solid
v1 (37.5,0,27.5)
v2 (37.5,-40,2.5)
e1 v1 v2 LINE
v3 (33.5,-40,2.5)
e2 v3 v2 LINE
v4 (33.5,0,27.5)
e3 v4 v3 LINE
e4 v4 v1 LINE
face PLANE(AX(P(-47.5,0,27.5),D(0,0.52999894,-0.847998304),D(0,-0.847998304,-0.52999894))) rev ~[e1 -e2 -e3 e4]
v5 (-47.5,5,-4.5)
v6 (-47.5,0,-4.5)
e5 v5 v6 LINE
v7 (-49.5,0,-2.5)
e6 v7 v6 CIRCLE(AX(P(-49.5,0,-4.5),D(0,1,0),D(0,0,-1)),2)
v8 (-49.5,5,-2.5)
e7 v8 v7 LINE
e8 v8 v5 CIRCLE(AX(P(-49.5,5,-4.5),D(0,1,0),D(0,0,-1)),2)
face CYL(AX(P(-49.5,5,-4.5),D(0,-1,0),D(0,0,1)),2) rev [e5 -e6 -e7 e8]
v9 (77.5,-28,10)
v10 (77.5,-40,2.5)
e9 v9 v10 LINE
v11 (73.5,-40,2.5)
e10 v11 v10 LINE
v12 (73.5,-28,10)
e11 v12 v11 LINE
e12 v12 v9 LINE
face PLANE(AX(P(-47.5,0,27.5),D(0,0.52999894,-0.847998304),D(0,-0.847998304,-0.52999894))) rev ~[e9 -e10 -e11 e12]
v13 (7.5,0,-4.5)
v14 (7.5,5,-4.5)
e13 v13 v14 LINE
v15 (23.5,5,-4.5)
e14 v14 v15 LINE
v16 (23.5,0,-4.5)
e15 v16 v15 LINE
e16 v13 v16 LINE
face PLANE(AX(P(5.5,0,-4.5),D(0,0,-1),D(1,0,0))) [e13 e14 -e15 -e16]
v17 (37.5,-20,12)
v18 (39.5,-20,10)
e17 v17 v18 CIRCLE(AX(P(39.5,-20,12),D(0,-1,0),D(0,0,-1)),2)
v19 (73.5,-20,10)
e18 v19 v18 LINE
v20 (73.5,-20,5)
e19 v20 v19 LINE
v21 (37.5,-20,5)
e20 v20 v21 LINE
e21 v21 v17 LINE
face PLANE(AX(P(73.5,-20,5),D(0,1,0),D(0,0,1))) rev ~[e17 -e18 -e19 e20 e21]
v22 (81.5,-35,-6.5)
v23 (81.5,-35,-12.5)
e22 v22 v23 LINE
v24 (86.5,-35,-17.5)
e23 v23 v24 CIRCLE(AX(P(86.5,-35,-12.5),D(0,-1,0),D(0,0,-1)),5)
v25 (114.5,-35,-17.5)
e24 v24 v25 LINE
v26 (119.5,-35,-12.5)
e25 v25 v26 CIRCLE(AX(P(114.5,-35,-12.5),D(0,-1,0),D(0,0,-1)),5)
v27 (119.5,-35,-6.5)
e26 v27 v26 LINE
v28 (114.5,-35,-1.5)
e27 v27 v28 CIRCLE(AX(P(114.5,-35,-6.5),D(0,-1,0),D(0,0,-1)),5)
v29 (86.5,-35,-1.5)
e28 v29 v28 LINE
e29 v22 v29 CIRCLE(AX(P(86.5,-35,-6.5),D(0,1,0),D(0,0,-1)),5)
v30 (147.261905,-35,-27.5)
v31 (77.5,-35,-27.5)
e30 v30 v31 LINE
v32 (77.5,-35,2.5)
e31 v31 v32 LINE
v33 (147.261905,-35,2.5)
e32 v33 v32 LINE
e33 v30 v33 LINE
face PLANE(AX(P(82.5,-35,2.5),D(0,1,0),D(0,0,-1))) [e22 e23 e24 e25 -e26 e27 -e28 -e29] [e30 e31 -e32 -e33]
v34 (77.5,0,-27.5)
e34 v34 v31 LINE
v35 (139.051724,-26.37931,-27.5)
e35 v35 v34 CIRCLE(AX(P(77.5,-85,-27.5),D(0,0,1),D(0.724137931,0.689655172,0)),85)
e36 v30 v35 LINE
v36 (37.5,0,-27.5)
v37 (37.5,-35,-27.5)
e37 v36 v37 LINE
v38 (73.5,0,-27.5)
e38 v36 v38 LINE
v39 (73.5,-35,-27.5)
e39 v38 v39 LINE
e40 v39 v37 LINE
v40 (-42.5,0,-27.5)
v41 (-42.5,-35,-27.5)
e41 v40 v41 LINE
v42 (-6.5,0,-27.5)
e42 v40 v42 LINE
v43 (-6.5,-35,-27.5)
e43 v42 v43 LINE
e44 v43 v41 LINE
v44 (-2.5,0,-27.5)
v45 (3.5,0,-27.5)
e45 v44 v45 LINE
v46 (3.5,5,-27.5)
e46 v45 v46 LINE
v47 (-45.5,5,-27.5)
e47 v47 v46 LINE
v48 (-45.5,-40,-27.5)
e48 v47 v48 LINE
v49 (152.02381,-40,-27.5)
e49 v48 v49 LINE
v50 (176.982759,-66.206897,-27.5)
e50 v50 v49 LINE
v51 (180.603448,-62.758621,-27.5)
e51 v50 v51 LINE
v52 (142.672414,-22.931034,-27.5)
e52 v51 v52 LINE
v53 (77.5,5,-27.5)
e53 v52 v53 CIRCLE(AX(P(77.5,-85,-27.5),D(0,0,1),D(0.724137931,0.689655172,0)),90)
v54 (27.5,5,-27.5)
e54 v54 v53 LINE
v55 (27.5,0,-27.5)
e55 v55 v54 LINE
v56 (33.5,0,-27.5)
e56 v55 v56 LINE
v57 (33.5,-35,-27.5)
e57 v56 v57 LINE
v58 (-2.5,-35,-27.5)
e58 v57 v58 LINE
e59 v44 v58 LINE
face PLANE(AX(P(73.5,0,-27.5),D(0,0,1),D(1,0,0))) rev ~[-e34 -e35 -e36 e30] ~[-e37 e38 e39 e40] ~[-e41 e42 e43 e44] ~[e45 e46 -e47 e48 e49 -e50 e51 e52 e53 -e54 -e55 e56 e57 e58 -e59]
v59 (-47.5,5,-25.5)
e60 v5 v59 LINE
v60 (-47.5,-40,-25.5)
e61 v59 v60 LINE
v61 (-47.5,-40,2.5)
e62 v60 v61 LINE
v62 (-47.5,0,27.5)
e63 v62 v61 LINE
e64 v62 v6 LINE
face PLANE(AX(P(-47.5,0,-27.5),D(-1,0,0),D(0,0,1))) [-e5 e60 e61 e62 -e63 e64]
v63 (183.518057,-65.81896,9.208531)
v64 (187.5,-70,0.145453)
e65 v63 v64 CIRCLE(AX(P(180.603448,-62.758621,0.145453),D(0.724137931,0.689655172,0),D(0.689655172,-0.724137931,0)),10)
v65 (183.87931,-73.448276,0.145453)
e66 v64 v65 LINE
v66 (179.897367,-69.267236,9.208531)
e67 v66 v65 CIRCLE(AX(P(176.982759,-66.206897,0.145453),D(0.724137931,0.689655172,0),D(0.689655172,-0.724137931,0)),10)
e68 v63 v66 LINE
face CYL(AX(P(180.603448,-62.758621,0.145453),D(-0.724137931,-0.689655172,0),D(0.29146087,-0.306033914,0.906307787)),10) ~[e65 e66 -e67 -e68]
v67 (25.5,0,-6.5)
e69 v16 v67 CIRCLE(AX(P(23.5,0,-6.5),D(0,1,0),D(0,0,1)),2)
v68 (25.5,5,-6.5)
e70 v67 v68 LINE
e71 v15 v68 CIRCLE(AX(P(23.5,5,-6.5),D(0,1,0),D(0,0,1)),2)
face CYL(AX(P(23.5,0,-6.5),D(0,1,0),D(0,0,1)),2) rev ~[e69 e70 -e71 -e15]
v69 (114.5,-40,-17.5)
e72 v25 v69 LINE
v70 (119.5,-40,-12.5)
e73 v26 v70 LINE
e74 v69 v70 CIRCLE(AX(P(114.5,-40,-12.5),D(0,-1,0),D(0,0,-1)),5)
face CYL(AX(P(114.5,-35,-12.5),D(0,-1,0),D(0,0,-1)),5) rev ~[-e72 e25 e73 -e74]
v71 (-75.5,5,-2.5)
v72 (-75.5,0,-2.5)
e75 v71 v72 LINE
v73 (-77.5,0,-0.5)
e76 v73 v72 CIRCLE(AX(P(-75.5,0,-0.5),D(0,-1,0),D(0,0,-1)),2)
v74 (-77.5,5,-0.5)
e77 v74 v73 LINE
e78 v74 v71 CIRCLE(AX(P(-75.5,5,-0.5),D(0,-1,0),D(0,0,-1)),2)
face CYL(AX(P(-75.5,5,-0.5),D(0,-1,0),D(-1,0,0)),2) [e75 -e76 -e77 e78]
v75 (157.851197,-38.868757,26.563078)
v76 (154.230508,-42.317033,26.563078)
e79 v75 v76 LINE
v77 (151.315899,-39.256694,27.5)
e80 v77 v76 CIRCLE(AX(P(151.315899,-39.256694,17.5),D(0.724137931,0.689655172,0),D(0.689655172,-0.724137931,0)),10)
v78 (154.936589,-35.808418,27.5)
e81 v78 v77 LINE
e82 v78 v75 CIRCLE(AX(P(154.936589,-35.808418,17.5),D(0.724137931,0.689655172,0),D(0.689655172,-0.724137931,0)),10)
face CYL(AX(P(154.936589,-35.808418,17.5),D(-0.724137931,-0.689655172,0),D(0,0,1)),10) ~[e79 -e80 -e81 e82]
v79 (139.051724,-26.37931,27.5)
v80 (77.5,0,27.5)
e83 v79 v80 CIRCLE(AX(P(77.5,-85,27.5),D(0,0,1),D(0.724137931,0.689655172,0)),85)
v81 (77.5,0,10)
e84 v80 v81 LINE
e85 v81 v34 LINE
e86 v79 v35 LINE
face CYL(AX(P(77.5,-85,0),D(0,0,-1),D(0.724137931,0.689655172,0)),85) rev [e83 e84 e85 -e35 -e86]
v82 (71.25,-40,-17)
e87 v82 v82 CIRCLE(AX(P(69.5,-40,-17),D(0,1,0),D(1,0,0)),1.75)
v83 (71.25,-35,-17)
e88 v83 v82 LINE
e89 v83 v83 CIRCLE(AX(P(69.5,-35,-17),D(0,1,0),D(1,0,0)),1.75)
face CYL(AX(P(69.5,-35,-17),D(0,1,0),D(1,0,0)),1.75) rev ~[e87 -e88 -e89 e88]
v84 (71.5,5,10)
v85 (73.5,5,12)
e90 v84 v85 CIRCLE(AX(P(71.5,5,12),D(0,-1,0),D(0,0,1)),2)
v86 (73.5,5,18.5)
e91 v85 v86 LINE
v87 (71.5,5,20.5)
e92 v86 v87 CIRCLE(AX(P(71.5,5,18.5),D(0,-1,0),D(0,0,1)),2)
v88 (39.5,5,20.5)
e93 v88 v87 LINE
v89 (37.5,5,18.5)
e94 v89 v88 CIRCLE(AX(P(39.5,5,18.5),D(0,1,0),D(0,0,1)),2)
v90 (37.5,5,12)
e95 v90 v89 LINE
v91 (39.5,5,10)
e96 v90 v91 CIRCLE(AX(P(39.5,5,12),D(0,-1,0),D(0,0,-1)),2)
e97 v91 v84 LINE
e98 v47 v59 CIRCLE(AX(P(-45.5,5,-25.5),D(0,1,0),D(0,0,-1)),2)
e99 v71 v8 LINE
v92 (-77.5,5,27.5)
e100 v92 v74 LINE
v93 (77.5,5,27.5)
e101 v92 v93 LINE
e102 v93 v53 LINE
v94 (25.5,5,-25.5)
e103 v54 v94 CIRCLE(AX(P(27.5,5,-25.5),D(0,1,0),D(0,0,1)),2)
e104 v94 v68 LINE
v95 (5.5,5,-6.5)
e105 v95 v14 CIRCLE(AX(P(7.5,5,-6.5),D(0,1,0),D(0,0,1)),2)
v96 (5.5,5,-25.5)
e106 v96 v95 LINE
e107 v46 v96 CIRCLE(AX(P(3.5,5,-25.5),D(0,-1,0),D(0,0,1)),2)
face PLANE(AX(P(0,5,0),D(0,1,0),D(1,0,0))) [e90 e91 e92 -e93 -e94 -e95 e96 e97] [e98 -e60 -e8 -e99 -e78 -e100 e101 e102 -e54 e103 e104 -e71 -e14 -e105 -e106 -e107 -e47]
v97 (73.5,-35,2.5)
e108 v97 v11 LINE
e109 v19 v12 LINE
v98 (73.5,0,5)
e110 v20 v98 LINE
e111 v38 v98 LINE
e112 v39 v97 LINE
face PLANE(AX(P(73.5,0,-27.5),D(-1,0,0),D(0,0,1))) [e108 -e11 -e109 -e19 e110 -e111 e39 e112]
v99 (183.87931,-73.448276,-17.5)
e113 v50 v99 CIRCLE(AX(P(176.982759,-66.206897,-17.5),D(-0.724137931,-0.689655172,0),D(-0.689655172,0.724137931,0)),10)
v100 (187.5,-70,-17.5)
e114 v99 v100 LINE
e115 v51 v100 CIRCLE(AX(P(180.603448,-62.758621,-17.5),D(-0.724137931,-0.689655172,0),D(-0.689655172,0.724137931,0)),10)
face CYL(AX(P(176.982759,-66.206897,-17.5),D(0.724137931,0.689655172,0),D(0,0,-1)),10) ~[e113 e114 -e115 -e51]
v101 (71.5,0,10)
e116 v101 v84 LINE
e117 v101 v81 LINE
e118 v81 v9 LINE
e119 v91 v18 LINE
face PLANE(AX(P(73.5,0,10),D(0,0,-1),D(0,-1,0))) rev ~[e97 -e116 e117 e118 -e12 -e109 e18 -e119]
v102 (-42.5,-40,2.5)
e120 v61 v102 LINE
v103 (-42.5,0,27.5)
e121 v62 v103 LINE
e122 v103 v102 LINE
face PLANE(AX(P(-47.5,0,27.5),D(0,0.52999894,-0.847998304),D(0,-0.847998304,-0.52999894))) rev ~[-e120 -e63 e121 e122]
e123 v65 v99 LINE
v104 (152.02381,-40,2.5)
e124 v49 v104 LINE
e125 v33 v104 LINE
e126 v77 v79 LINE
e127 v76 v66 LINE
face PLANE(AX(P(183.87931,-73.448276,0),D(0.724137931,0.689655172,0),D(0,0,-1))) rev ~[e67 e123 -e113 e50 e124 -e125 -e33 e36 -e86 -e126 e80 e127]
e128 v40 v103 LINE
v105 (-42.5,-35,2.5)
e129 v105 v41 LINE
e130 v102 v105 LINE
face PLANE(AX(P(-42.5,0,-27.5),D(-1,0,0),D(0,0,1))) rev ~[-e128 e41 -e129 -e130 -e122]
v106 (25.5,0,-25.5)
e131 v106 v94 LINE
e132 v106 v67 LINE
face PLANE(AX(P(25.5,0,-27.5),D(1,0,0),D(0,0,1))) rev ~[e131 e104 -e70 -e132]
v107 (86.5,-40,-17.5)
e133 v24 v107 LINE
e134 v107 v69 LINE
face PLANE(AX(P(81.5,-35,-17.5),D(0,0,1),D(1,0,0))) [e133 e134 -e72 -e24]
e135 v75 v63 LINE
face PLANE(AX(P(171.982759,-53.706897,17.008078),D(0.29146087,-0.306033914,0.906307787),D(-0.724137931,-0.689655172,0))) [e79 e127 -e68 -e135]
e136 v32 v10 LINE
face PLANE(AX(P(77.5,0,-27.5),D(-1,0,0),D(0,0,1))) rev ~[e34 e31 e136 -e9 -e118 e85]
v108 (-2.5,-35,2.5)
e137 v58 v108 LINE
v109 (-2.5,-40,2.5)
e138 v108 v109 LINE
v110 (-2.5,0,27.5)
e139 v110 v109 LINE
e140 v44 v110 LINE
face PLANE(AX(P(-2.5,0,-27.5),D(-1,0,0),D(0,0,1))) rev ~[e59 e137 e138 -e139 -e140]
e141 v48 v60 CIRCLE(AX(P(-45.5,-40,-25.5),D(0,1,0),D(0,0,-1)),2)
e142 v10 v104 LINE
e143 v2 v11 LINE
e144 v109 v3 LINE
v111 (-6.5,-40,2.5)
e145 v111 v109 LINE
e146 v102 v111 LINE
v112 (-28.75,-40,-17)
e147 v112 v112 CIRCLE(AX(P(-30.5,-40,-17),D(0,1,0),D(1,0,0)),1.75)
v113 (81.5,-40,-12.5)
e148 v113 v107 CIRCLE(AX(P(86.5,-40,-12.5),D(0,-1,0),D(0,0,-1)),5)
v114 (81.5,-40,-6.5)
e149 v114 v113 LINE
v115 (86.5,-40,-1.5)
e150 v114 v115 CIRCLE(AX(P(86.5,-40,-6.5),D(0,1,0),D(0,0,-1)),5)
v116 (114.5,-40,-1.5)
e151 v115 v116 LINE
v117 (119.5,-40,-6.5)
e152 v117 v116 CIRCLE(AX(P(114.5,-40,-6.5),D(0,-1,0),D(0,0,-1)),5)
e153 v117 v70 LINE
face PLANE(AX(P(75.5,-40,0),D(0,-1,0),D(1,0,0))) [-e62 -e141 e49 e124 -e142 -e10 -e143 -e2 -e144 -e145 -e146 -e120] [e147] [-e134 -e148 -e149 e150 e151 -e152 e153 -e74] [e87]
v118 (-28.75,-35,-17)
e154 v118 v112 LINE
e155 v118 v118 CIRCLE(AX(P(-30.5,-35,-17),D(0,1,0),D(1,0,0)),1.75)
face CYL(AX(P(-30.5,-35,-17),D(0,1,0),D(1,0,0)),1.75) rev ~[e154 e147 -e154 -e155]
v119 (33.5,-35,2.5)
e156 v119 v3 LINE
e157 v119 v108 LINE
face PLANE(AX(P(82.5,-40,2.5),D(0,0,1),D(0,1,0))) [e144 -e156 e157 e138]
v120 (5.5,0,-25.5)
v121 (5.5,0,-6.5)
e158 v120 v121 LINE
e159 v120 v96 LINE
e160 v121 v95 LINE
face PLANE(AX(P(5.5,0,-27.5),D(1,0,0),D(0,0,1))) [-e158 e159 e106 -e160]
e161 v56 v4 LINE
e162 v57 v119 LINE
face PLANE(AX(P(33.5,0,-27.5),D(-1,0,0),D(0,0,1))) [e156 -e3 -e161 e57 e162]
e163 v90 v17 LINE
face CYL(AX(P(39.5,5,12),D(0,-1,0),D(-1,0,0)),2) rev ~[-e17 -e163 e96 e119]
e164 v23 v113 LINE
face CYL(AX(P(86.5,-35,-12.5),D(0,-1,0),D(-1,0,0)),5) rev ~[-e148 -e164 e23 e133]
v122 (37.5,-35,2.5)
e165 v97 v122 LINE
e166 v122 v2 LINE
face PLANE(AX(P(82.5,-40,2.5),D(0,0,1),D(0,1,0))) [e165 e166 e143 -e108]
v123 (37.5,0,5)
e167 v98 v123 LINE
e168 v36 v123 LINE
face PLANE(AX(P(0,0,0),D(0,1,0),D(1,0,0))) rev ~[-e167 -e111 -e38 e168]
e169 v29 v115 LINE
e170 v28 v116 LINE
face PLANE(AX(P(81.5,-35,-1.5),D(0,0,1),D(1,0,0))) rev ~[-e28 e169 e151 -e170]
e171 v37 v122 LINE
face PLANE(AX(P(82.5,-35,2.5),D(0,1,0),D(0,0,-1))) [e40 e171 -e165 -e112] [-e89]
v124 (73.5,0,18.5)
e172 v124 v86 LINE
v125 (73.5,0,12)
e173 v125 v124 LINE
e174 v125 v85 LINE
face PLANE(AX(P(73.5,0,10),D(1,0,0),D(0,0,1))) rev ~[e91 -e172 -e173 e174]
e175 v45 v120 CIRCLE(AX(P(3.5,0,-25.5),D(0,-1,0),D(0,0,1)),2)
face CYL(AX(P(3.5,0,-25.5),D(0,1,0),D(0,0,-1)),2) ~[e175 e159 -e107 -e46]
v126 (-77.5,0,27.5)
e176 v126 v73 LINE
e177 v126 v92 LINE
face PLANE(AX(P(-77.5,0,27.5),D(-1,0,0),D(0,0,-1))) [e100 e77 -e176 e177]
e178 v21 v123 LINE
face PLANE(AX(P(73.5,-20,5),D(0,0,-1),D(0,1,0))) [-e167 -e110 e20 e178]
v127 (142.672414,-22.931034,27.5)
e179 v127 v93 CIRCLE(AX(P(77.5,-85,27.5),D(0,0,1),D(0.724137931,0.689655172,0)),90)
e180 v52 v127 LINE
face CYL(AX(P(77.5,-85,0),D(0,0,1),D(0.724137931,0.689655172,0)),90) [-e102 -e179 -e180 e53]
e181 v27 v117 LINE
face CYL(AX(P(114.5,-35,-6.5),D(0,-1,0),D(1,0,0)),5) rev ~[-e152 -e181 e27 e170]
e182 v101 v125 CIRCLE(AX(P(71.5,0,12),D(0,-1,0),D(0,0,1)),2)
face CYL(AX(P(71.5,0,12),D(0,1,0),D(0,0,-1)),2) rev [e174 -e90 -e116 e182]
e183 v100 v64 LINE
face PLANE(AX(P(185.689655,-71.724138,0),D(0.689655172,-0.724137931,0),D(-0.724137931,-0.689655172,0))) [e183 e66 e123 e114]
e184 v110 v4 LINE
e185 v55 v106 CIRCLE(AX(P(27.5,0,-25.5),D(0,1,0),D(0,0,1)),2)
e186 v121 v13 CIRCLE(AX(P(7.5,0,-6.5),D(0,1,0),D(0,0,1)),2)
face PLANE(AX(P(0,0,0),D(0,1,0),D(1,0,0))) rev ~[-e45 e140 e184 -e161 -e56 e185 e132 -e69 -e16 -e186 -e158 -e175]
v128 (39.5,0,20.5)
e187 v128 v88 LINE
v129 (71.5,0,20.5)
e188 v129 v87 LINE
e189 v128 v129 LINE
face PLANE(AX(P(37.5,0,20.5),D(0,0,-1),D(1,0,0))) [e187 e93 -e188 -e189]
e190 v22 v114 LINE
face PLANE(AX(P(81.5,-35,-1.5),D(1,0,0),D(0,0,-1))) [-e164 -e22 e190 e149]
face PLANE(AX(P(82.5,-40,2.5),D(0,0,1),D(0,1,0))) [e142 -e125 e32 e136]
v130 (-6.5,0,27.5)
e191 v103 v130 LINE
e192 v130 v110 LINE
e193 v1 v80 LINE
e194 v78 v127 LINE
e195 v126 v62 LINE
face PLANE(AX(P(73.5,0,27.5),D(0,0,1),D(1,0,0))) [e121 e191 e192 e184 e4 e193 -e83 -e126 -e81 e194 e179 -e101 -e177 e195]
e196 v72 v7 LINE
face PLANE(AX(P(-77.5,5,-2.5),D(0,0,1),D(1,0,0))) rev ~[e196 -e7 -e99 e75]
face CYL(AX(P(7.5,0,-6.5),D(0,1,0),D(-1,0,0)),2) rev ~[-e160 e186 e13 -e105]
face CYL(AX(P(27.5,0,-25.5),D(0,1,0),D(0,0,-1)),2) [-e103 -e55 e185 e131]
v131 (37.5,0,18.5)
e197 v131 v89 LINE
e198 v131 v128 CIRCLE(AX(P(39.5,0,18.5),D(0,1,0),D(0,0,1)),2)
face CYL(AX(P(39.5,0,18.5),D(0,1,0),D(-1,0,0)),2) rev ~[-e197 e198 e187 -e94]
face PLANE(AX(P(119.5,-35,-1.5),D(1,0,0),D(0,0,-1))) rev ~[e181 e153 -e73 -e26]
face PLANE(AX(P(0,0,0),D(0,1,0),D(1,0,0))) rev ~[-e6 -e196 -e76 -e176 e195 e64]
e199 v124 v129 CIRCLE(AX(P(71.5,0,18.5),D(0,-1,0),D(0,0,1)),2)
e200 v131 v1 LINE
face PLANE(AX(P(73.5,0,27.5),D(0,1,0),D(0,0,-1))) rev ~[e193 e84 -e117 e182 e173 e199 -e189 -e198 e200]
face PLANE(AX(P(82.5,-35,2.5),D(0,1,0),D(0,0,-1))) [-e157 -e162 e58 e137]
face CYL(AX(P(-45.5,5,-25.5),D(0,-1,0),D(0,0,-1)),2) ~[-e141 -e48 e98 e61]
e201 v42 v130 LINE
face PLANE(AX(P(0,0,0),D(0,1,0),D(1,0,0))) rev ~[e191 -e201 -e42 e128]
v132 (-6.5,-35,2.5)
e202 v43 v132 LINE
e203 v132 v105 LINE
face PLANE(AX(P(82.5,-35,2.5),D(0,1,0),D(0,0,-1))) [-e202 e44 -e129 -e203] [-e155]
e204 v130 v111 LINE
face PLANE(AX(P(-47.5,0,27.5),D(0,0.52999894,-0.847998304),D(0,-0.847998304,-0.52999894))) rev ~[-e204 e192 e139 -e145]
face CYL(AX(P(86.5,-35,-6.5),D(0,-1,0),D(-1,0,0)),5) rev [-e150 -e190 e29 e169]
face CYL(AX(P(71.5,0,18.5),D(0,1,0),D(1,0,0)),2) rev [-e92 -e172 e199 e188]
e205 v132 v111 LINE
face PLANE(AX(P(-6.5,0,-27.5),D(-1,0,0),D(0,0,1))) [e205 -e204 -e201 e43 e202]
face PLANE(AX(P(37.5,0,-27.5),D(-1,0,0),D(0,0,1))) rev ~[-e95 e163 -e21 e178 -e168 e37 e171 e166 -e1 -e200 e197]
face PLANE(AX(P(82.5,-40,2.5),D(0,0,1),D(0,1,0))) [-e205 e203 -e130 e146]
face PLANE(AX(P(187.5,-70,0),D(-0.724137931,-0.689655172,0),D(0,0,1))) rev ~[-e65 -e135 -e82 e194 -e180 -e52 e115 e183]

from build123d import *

# Parameters (mm, degrees)
SKETCH1_W            = 155
SKETCH1_H            = 55
BOSS_EXTRUDE1_DEPTH  = 5
SKETCH2_W            = 30
SKETCH2_H            = 25
CUT_EXTRUDE2_DEPTH   = 5
SKETCH3_W            = 5
SKETCH3_H            = 55
BOSS_EXTRUDE2_DEPTH  = 40
SKETCH10_W           = 55
SKETCH10_H           = 5
SKETCH14_W           = 125
SKETCH14_H           = 30
BOSS_EXTRUDE7_DEPTH  = 5
BOSS_EXTRUDE8_REACH  = 107
SKETCH16_W           = 30
SKETCH16_H           = 5
SKETCH19_W           = 4
SKETCH19_H           = 55
BOSS_EXTRUDE9_DEPTH  = 40
CUT_EXTRUDE4_DEPTH   = 125
SKETCH18_R           = 1.75
CUT_EXTRUDE5_DEPTH   = 5
SKETCH20_W           = 38
SKETCH20_H           = 16
CUT_EXTRUDE6_DEPTH   = 5
FILLET1_R            = 5
SKETCH21_W           = 5
SKETCH21_H           = 20
BOSS_EXTRUDE10_DEPTH = 36
CUT_EXTRUDE7_DEPTH   = 4
SKETCH23_W           = 36
SKETCH23_H           = 10.5
CUT_EXTRUDE8_DEPTH   = 5
FILLET2_R            = 2
SKETCH24_W           = 20
SKETCH24_H           = 23
CUT_EXTRUDE9_DEPTH   = 5
FILLET3_R            = 2
CHAMFER1_SIZE        = 45
CHAMFER1_SIZE2       = 20.983844617
FILLET4_R            = 10
FILLET5_R            = 10


with BuildPart() as part:
    # Sketch1 → Boss-Extrude1 (new body)
    with BuildSketch(Plane(origin=(0, 0, 0), x_dir=(1, 0, 0), z_dir=(0, 1, 0))):
        Rectangle(SKETCH1_W, SKETCH1_H)
    extrude(amount=BOSS_EXTRUDE1_DEPTH)

    # Sketch2 → Cut-Extrude2 (cut)
    with BuildSketch(Plane(origin=(0, 5, 0), x_dir=(1, 0, 0), z_dir=(0, 1, 0))):
        with Locations((-62.5, 15)):
            Rectangle(SKETCH2_W, SKETCH2_H)
    extrude(amount=-CUT_EXTRUDE2_DEPTH, mode=Mode.SUBTRACT)

    # Sketch3 → Boss-Extrude2 (add)
    with BuildSketch(Plane.XZ):
        with Locations((-45, 0)):
            Rectangle(SKETCH3_W, SKETCH3_H)
    extrude(amount=BOSS_EXTRUDE2_DEPTH)

    # Sweep1: sweep along a path in Sketch9
    with BuildLine(Plane.XY.offset(27.5)) as sweep1_path:
        Line((187.5, -70), (142.672413793, -22.931034483))
        ThreePointArc((142.672413793, -22.931034483), (112.952736872, -2.276947298), (77.5, 5))
    # Sketch10 → Sweep1 (sweep)
    with BuildSketch(Plane(origin=(77.5, 0, 0), x_dir=(0, 0, -1), z_dir=(1, 0, 0))):
        with Locations((0, 2.5)):
            Rectangle(SKETCH10_W, SKETCH10_H)
    sweep(path=sweep1_path.line)

    # Sketch14 → Boss-Extrude7 (add)
    with BuildSketch(Plane(origin=(0, -40, 0), x_dir=(1, 0, 0), z_dir=(0, 1, 0))):
        with Locations((20, 12.5)):
            Rectangle(SKETCH14_W, SKETCH14_H)
    extrude(amount=BOSS_EXTRUDE7_DEPTH)

    # Boss-Extrude8: up to this face of the body (flat: up to its plane)
    boss_extrude8_end = Plane(part.part.faces().sort_by_distance((161.465517241, -49.913793103, 0))[0])
    # Sketch16 → Boss-Extrude8 (add, up to the picked face)
    with BuildSketch(Plane(origin=(82.5, 0, 0), x_dir=(0, 0, -1), z_dir=(1, 0, 0)), mode=Mode.PRIVATE) as boss_extrude8_sk1:
        with Locations((12.5, -37.5)):
            Rectangle(SKETCH16_W, SKETCH16_H)
    boss_extrude8_tool1 = split(extrude(boss_extrude8_sk1.sketch, amount=BOSS_EXTRUDE8_REACH, mode=Mode.PRIVATE), bisect_by=boss_extrude8_end, keep=Keep.BOTH, mode=Mode.PRIVATE)
    add(boss_extrude8_tool1.solids().sort_by_distance((82.5, -37.5, -12.5))[0])

    # Sketch19 → Boss-Extrude9 (add)
    with BuildSketch(Plane.XZ):
        with Locations((75.5, 0)):
            Rectangle(SKETCH19_W, SKETCH19_H)
        with Locations((35.5, 0)):
            Rectangle(SKETCH19_W, SKETCH19_H)
        with Locations((-4.5, 0)):
            Rectangle(SKETCH19_W, SKETCH19_H)
    extrude(amount=BOSS_EXTRUDE9_DEPTH)

    # Sketch17 → Cut-Extrude4 (cut)
    with BuildSketch(Plane.ZY.offset(47.5)):
        Polygon((27.5, 0), (2.5, -40), (27.5, -40), align=None)
    extrude(amount=-CUT_EXTRUDE4_DEPTH, mode=Mode.SUBTRACT)

    # Sketch18 → Cut-Extrude5 (cut)
    with BuildSketch(Plane(origin=(0, -35, 0), x_dir=(1, 0, 0), z_dir=(0, 1, 0))):
        with Locations((-30.5, 17)):
            Circle(SKETCH18_R)
        with Locations((69.5, 17)):
            Circle(SKETCH18_R)
    extrude(amount=-CUT_EXTRUDE5_DEPTH, mode=Mode.SUBTRACT)

    # Sketch20 → Cut-Extrude6 (cut)
    with BuildSketch(Plane(origin=(0, -35, 0), x_dir=(1, 0, 0), z_dir=(0, 1, 0))):
        with Locations((100.5, 9.5)):
            Rectangle(SKETCH20_W, SKETCH20_H)
    extrude(amount=-CUT_EXTRUDE6_DEPTH, mode=Mode.SUBTRACT)

    # Fillet1
    fillet1_edges = [part.edges().sort_by_distance(p)[0] for p in [
        (81.5, -37.5, -1.5),
        (81.5, -37.5, -17.5),
        (119.5, -37.5, -17.5),
        (119.5, -37.5, -1.5),
    ]]
    fillet(fillet1_edges, radius=FILLET1_R)

    # Sketch21 → Boss-Extrude10 (add)
    with BuildSketch(Plane.ZY.offset(-73.5)):
        with Locations((7.5, -10)):
            Rectangle(SKETCH21_W, SKETCH21_H)
    extrude(amount=BOSS_EXTRUDE10_DEPTH)

    # Sketch22 → Cut-Extrude7 (cut)
    with BuildSketch(Plane.ZY.offset(-73.5)):
        Polygon((10, -28), (27.5, 0), (10, 0), align=None)
    extrude(amount=-CUT_EXTRUDE7_DEPTH, mode=Mode.SUBTRACT)

    # Sketch23 → Cut-Extrude8 (cut)
    with BuildSketch(Plane.XZ):
        with Locations((55.5, 15.25)):
            Rectangle(SKETCH23_W, SKETCH23_H)
    extrude(amount=-CUT_EXTRUDE8_DEPTH, mode=Mode.SUBTRACT)

    # Fillet2
    fillet2_edges = [part.edges().sort_by_distance(p)[0] for p in [
        (37.5, -7.5, 10),
        (73.5, 2.5, 10),
        (73.5, 2.5, 20.5),
        (37.5, 2.5, 20.5),
    ]]
    fillet(fillet2_edges, radius=FILLET2_R)

    # Sketch24 → Cut-Extrude9 (cut)
    with BuildSketch(Plane.XZ):
        with Locations((15.5, -16)):
            Rectangle(SKETCH24_W, SKETCH24_H)
    extrude(amount=-CUT_EXTRUDE9_DEPTH, mode=Mode.SUBTRACT)

    # Fillet3
    fillet3_edges = [part.edges().sort_by_distance(p)[0] for p in [
        (-77.5, 2.5, -2.5),
        (-47.5, -17.5, -27.5),
        (-47.5, 2.5, -2.5),
        (5.5, 2.5, -4.5),
        (5.5, 2.5, -27.5),
        (25.5, 2.5, -27.5),
        (25.5, 2.5, -4.5),
    ]]
    fillet(fillet3_edges, radius=FILLET3_R)

    # Chamfer1
    chamfer1_edges = [part.edges().sort_by_distance(p)[0] for p in [
        (185.689655172, -71.724137931, 27.5),
    ]]
    chamfer1_side = [part.faces().sort_by_distance(p)[0] for p in [
        (111.864070979, -4.817167716, 27.5),
    ]]
    chamfer(chamfer1_edges, length=CHAMFER1_SIZE, length2=CHAMFER1_SIZE2, reference=chamfer1_side[0])

    # Fillet4
    fillet4_edges = [part.edges().sort_by_distance(p)[0] for p in [
        (185.689655172, -71.724137931, 6.516155383),
        (154.655172414, -39.137931034, 27.5),
    ]]
    fillet(fillet4_edges, radius=FILLET4_R)

    # Fillet5
    fillet5_edges = [part.edges().sort_by_distance(p)[0] for p in [
        (185.689655172, -71.724137931, -27.5),
    ]]
    fillet(fillet5_edges, radius=FILLET5_R)


solid = part.part
